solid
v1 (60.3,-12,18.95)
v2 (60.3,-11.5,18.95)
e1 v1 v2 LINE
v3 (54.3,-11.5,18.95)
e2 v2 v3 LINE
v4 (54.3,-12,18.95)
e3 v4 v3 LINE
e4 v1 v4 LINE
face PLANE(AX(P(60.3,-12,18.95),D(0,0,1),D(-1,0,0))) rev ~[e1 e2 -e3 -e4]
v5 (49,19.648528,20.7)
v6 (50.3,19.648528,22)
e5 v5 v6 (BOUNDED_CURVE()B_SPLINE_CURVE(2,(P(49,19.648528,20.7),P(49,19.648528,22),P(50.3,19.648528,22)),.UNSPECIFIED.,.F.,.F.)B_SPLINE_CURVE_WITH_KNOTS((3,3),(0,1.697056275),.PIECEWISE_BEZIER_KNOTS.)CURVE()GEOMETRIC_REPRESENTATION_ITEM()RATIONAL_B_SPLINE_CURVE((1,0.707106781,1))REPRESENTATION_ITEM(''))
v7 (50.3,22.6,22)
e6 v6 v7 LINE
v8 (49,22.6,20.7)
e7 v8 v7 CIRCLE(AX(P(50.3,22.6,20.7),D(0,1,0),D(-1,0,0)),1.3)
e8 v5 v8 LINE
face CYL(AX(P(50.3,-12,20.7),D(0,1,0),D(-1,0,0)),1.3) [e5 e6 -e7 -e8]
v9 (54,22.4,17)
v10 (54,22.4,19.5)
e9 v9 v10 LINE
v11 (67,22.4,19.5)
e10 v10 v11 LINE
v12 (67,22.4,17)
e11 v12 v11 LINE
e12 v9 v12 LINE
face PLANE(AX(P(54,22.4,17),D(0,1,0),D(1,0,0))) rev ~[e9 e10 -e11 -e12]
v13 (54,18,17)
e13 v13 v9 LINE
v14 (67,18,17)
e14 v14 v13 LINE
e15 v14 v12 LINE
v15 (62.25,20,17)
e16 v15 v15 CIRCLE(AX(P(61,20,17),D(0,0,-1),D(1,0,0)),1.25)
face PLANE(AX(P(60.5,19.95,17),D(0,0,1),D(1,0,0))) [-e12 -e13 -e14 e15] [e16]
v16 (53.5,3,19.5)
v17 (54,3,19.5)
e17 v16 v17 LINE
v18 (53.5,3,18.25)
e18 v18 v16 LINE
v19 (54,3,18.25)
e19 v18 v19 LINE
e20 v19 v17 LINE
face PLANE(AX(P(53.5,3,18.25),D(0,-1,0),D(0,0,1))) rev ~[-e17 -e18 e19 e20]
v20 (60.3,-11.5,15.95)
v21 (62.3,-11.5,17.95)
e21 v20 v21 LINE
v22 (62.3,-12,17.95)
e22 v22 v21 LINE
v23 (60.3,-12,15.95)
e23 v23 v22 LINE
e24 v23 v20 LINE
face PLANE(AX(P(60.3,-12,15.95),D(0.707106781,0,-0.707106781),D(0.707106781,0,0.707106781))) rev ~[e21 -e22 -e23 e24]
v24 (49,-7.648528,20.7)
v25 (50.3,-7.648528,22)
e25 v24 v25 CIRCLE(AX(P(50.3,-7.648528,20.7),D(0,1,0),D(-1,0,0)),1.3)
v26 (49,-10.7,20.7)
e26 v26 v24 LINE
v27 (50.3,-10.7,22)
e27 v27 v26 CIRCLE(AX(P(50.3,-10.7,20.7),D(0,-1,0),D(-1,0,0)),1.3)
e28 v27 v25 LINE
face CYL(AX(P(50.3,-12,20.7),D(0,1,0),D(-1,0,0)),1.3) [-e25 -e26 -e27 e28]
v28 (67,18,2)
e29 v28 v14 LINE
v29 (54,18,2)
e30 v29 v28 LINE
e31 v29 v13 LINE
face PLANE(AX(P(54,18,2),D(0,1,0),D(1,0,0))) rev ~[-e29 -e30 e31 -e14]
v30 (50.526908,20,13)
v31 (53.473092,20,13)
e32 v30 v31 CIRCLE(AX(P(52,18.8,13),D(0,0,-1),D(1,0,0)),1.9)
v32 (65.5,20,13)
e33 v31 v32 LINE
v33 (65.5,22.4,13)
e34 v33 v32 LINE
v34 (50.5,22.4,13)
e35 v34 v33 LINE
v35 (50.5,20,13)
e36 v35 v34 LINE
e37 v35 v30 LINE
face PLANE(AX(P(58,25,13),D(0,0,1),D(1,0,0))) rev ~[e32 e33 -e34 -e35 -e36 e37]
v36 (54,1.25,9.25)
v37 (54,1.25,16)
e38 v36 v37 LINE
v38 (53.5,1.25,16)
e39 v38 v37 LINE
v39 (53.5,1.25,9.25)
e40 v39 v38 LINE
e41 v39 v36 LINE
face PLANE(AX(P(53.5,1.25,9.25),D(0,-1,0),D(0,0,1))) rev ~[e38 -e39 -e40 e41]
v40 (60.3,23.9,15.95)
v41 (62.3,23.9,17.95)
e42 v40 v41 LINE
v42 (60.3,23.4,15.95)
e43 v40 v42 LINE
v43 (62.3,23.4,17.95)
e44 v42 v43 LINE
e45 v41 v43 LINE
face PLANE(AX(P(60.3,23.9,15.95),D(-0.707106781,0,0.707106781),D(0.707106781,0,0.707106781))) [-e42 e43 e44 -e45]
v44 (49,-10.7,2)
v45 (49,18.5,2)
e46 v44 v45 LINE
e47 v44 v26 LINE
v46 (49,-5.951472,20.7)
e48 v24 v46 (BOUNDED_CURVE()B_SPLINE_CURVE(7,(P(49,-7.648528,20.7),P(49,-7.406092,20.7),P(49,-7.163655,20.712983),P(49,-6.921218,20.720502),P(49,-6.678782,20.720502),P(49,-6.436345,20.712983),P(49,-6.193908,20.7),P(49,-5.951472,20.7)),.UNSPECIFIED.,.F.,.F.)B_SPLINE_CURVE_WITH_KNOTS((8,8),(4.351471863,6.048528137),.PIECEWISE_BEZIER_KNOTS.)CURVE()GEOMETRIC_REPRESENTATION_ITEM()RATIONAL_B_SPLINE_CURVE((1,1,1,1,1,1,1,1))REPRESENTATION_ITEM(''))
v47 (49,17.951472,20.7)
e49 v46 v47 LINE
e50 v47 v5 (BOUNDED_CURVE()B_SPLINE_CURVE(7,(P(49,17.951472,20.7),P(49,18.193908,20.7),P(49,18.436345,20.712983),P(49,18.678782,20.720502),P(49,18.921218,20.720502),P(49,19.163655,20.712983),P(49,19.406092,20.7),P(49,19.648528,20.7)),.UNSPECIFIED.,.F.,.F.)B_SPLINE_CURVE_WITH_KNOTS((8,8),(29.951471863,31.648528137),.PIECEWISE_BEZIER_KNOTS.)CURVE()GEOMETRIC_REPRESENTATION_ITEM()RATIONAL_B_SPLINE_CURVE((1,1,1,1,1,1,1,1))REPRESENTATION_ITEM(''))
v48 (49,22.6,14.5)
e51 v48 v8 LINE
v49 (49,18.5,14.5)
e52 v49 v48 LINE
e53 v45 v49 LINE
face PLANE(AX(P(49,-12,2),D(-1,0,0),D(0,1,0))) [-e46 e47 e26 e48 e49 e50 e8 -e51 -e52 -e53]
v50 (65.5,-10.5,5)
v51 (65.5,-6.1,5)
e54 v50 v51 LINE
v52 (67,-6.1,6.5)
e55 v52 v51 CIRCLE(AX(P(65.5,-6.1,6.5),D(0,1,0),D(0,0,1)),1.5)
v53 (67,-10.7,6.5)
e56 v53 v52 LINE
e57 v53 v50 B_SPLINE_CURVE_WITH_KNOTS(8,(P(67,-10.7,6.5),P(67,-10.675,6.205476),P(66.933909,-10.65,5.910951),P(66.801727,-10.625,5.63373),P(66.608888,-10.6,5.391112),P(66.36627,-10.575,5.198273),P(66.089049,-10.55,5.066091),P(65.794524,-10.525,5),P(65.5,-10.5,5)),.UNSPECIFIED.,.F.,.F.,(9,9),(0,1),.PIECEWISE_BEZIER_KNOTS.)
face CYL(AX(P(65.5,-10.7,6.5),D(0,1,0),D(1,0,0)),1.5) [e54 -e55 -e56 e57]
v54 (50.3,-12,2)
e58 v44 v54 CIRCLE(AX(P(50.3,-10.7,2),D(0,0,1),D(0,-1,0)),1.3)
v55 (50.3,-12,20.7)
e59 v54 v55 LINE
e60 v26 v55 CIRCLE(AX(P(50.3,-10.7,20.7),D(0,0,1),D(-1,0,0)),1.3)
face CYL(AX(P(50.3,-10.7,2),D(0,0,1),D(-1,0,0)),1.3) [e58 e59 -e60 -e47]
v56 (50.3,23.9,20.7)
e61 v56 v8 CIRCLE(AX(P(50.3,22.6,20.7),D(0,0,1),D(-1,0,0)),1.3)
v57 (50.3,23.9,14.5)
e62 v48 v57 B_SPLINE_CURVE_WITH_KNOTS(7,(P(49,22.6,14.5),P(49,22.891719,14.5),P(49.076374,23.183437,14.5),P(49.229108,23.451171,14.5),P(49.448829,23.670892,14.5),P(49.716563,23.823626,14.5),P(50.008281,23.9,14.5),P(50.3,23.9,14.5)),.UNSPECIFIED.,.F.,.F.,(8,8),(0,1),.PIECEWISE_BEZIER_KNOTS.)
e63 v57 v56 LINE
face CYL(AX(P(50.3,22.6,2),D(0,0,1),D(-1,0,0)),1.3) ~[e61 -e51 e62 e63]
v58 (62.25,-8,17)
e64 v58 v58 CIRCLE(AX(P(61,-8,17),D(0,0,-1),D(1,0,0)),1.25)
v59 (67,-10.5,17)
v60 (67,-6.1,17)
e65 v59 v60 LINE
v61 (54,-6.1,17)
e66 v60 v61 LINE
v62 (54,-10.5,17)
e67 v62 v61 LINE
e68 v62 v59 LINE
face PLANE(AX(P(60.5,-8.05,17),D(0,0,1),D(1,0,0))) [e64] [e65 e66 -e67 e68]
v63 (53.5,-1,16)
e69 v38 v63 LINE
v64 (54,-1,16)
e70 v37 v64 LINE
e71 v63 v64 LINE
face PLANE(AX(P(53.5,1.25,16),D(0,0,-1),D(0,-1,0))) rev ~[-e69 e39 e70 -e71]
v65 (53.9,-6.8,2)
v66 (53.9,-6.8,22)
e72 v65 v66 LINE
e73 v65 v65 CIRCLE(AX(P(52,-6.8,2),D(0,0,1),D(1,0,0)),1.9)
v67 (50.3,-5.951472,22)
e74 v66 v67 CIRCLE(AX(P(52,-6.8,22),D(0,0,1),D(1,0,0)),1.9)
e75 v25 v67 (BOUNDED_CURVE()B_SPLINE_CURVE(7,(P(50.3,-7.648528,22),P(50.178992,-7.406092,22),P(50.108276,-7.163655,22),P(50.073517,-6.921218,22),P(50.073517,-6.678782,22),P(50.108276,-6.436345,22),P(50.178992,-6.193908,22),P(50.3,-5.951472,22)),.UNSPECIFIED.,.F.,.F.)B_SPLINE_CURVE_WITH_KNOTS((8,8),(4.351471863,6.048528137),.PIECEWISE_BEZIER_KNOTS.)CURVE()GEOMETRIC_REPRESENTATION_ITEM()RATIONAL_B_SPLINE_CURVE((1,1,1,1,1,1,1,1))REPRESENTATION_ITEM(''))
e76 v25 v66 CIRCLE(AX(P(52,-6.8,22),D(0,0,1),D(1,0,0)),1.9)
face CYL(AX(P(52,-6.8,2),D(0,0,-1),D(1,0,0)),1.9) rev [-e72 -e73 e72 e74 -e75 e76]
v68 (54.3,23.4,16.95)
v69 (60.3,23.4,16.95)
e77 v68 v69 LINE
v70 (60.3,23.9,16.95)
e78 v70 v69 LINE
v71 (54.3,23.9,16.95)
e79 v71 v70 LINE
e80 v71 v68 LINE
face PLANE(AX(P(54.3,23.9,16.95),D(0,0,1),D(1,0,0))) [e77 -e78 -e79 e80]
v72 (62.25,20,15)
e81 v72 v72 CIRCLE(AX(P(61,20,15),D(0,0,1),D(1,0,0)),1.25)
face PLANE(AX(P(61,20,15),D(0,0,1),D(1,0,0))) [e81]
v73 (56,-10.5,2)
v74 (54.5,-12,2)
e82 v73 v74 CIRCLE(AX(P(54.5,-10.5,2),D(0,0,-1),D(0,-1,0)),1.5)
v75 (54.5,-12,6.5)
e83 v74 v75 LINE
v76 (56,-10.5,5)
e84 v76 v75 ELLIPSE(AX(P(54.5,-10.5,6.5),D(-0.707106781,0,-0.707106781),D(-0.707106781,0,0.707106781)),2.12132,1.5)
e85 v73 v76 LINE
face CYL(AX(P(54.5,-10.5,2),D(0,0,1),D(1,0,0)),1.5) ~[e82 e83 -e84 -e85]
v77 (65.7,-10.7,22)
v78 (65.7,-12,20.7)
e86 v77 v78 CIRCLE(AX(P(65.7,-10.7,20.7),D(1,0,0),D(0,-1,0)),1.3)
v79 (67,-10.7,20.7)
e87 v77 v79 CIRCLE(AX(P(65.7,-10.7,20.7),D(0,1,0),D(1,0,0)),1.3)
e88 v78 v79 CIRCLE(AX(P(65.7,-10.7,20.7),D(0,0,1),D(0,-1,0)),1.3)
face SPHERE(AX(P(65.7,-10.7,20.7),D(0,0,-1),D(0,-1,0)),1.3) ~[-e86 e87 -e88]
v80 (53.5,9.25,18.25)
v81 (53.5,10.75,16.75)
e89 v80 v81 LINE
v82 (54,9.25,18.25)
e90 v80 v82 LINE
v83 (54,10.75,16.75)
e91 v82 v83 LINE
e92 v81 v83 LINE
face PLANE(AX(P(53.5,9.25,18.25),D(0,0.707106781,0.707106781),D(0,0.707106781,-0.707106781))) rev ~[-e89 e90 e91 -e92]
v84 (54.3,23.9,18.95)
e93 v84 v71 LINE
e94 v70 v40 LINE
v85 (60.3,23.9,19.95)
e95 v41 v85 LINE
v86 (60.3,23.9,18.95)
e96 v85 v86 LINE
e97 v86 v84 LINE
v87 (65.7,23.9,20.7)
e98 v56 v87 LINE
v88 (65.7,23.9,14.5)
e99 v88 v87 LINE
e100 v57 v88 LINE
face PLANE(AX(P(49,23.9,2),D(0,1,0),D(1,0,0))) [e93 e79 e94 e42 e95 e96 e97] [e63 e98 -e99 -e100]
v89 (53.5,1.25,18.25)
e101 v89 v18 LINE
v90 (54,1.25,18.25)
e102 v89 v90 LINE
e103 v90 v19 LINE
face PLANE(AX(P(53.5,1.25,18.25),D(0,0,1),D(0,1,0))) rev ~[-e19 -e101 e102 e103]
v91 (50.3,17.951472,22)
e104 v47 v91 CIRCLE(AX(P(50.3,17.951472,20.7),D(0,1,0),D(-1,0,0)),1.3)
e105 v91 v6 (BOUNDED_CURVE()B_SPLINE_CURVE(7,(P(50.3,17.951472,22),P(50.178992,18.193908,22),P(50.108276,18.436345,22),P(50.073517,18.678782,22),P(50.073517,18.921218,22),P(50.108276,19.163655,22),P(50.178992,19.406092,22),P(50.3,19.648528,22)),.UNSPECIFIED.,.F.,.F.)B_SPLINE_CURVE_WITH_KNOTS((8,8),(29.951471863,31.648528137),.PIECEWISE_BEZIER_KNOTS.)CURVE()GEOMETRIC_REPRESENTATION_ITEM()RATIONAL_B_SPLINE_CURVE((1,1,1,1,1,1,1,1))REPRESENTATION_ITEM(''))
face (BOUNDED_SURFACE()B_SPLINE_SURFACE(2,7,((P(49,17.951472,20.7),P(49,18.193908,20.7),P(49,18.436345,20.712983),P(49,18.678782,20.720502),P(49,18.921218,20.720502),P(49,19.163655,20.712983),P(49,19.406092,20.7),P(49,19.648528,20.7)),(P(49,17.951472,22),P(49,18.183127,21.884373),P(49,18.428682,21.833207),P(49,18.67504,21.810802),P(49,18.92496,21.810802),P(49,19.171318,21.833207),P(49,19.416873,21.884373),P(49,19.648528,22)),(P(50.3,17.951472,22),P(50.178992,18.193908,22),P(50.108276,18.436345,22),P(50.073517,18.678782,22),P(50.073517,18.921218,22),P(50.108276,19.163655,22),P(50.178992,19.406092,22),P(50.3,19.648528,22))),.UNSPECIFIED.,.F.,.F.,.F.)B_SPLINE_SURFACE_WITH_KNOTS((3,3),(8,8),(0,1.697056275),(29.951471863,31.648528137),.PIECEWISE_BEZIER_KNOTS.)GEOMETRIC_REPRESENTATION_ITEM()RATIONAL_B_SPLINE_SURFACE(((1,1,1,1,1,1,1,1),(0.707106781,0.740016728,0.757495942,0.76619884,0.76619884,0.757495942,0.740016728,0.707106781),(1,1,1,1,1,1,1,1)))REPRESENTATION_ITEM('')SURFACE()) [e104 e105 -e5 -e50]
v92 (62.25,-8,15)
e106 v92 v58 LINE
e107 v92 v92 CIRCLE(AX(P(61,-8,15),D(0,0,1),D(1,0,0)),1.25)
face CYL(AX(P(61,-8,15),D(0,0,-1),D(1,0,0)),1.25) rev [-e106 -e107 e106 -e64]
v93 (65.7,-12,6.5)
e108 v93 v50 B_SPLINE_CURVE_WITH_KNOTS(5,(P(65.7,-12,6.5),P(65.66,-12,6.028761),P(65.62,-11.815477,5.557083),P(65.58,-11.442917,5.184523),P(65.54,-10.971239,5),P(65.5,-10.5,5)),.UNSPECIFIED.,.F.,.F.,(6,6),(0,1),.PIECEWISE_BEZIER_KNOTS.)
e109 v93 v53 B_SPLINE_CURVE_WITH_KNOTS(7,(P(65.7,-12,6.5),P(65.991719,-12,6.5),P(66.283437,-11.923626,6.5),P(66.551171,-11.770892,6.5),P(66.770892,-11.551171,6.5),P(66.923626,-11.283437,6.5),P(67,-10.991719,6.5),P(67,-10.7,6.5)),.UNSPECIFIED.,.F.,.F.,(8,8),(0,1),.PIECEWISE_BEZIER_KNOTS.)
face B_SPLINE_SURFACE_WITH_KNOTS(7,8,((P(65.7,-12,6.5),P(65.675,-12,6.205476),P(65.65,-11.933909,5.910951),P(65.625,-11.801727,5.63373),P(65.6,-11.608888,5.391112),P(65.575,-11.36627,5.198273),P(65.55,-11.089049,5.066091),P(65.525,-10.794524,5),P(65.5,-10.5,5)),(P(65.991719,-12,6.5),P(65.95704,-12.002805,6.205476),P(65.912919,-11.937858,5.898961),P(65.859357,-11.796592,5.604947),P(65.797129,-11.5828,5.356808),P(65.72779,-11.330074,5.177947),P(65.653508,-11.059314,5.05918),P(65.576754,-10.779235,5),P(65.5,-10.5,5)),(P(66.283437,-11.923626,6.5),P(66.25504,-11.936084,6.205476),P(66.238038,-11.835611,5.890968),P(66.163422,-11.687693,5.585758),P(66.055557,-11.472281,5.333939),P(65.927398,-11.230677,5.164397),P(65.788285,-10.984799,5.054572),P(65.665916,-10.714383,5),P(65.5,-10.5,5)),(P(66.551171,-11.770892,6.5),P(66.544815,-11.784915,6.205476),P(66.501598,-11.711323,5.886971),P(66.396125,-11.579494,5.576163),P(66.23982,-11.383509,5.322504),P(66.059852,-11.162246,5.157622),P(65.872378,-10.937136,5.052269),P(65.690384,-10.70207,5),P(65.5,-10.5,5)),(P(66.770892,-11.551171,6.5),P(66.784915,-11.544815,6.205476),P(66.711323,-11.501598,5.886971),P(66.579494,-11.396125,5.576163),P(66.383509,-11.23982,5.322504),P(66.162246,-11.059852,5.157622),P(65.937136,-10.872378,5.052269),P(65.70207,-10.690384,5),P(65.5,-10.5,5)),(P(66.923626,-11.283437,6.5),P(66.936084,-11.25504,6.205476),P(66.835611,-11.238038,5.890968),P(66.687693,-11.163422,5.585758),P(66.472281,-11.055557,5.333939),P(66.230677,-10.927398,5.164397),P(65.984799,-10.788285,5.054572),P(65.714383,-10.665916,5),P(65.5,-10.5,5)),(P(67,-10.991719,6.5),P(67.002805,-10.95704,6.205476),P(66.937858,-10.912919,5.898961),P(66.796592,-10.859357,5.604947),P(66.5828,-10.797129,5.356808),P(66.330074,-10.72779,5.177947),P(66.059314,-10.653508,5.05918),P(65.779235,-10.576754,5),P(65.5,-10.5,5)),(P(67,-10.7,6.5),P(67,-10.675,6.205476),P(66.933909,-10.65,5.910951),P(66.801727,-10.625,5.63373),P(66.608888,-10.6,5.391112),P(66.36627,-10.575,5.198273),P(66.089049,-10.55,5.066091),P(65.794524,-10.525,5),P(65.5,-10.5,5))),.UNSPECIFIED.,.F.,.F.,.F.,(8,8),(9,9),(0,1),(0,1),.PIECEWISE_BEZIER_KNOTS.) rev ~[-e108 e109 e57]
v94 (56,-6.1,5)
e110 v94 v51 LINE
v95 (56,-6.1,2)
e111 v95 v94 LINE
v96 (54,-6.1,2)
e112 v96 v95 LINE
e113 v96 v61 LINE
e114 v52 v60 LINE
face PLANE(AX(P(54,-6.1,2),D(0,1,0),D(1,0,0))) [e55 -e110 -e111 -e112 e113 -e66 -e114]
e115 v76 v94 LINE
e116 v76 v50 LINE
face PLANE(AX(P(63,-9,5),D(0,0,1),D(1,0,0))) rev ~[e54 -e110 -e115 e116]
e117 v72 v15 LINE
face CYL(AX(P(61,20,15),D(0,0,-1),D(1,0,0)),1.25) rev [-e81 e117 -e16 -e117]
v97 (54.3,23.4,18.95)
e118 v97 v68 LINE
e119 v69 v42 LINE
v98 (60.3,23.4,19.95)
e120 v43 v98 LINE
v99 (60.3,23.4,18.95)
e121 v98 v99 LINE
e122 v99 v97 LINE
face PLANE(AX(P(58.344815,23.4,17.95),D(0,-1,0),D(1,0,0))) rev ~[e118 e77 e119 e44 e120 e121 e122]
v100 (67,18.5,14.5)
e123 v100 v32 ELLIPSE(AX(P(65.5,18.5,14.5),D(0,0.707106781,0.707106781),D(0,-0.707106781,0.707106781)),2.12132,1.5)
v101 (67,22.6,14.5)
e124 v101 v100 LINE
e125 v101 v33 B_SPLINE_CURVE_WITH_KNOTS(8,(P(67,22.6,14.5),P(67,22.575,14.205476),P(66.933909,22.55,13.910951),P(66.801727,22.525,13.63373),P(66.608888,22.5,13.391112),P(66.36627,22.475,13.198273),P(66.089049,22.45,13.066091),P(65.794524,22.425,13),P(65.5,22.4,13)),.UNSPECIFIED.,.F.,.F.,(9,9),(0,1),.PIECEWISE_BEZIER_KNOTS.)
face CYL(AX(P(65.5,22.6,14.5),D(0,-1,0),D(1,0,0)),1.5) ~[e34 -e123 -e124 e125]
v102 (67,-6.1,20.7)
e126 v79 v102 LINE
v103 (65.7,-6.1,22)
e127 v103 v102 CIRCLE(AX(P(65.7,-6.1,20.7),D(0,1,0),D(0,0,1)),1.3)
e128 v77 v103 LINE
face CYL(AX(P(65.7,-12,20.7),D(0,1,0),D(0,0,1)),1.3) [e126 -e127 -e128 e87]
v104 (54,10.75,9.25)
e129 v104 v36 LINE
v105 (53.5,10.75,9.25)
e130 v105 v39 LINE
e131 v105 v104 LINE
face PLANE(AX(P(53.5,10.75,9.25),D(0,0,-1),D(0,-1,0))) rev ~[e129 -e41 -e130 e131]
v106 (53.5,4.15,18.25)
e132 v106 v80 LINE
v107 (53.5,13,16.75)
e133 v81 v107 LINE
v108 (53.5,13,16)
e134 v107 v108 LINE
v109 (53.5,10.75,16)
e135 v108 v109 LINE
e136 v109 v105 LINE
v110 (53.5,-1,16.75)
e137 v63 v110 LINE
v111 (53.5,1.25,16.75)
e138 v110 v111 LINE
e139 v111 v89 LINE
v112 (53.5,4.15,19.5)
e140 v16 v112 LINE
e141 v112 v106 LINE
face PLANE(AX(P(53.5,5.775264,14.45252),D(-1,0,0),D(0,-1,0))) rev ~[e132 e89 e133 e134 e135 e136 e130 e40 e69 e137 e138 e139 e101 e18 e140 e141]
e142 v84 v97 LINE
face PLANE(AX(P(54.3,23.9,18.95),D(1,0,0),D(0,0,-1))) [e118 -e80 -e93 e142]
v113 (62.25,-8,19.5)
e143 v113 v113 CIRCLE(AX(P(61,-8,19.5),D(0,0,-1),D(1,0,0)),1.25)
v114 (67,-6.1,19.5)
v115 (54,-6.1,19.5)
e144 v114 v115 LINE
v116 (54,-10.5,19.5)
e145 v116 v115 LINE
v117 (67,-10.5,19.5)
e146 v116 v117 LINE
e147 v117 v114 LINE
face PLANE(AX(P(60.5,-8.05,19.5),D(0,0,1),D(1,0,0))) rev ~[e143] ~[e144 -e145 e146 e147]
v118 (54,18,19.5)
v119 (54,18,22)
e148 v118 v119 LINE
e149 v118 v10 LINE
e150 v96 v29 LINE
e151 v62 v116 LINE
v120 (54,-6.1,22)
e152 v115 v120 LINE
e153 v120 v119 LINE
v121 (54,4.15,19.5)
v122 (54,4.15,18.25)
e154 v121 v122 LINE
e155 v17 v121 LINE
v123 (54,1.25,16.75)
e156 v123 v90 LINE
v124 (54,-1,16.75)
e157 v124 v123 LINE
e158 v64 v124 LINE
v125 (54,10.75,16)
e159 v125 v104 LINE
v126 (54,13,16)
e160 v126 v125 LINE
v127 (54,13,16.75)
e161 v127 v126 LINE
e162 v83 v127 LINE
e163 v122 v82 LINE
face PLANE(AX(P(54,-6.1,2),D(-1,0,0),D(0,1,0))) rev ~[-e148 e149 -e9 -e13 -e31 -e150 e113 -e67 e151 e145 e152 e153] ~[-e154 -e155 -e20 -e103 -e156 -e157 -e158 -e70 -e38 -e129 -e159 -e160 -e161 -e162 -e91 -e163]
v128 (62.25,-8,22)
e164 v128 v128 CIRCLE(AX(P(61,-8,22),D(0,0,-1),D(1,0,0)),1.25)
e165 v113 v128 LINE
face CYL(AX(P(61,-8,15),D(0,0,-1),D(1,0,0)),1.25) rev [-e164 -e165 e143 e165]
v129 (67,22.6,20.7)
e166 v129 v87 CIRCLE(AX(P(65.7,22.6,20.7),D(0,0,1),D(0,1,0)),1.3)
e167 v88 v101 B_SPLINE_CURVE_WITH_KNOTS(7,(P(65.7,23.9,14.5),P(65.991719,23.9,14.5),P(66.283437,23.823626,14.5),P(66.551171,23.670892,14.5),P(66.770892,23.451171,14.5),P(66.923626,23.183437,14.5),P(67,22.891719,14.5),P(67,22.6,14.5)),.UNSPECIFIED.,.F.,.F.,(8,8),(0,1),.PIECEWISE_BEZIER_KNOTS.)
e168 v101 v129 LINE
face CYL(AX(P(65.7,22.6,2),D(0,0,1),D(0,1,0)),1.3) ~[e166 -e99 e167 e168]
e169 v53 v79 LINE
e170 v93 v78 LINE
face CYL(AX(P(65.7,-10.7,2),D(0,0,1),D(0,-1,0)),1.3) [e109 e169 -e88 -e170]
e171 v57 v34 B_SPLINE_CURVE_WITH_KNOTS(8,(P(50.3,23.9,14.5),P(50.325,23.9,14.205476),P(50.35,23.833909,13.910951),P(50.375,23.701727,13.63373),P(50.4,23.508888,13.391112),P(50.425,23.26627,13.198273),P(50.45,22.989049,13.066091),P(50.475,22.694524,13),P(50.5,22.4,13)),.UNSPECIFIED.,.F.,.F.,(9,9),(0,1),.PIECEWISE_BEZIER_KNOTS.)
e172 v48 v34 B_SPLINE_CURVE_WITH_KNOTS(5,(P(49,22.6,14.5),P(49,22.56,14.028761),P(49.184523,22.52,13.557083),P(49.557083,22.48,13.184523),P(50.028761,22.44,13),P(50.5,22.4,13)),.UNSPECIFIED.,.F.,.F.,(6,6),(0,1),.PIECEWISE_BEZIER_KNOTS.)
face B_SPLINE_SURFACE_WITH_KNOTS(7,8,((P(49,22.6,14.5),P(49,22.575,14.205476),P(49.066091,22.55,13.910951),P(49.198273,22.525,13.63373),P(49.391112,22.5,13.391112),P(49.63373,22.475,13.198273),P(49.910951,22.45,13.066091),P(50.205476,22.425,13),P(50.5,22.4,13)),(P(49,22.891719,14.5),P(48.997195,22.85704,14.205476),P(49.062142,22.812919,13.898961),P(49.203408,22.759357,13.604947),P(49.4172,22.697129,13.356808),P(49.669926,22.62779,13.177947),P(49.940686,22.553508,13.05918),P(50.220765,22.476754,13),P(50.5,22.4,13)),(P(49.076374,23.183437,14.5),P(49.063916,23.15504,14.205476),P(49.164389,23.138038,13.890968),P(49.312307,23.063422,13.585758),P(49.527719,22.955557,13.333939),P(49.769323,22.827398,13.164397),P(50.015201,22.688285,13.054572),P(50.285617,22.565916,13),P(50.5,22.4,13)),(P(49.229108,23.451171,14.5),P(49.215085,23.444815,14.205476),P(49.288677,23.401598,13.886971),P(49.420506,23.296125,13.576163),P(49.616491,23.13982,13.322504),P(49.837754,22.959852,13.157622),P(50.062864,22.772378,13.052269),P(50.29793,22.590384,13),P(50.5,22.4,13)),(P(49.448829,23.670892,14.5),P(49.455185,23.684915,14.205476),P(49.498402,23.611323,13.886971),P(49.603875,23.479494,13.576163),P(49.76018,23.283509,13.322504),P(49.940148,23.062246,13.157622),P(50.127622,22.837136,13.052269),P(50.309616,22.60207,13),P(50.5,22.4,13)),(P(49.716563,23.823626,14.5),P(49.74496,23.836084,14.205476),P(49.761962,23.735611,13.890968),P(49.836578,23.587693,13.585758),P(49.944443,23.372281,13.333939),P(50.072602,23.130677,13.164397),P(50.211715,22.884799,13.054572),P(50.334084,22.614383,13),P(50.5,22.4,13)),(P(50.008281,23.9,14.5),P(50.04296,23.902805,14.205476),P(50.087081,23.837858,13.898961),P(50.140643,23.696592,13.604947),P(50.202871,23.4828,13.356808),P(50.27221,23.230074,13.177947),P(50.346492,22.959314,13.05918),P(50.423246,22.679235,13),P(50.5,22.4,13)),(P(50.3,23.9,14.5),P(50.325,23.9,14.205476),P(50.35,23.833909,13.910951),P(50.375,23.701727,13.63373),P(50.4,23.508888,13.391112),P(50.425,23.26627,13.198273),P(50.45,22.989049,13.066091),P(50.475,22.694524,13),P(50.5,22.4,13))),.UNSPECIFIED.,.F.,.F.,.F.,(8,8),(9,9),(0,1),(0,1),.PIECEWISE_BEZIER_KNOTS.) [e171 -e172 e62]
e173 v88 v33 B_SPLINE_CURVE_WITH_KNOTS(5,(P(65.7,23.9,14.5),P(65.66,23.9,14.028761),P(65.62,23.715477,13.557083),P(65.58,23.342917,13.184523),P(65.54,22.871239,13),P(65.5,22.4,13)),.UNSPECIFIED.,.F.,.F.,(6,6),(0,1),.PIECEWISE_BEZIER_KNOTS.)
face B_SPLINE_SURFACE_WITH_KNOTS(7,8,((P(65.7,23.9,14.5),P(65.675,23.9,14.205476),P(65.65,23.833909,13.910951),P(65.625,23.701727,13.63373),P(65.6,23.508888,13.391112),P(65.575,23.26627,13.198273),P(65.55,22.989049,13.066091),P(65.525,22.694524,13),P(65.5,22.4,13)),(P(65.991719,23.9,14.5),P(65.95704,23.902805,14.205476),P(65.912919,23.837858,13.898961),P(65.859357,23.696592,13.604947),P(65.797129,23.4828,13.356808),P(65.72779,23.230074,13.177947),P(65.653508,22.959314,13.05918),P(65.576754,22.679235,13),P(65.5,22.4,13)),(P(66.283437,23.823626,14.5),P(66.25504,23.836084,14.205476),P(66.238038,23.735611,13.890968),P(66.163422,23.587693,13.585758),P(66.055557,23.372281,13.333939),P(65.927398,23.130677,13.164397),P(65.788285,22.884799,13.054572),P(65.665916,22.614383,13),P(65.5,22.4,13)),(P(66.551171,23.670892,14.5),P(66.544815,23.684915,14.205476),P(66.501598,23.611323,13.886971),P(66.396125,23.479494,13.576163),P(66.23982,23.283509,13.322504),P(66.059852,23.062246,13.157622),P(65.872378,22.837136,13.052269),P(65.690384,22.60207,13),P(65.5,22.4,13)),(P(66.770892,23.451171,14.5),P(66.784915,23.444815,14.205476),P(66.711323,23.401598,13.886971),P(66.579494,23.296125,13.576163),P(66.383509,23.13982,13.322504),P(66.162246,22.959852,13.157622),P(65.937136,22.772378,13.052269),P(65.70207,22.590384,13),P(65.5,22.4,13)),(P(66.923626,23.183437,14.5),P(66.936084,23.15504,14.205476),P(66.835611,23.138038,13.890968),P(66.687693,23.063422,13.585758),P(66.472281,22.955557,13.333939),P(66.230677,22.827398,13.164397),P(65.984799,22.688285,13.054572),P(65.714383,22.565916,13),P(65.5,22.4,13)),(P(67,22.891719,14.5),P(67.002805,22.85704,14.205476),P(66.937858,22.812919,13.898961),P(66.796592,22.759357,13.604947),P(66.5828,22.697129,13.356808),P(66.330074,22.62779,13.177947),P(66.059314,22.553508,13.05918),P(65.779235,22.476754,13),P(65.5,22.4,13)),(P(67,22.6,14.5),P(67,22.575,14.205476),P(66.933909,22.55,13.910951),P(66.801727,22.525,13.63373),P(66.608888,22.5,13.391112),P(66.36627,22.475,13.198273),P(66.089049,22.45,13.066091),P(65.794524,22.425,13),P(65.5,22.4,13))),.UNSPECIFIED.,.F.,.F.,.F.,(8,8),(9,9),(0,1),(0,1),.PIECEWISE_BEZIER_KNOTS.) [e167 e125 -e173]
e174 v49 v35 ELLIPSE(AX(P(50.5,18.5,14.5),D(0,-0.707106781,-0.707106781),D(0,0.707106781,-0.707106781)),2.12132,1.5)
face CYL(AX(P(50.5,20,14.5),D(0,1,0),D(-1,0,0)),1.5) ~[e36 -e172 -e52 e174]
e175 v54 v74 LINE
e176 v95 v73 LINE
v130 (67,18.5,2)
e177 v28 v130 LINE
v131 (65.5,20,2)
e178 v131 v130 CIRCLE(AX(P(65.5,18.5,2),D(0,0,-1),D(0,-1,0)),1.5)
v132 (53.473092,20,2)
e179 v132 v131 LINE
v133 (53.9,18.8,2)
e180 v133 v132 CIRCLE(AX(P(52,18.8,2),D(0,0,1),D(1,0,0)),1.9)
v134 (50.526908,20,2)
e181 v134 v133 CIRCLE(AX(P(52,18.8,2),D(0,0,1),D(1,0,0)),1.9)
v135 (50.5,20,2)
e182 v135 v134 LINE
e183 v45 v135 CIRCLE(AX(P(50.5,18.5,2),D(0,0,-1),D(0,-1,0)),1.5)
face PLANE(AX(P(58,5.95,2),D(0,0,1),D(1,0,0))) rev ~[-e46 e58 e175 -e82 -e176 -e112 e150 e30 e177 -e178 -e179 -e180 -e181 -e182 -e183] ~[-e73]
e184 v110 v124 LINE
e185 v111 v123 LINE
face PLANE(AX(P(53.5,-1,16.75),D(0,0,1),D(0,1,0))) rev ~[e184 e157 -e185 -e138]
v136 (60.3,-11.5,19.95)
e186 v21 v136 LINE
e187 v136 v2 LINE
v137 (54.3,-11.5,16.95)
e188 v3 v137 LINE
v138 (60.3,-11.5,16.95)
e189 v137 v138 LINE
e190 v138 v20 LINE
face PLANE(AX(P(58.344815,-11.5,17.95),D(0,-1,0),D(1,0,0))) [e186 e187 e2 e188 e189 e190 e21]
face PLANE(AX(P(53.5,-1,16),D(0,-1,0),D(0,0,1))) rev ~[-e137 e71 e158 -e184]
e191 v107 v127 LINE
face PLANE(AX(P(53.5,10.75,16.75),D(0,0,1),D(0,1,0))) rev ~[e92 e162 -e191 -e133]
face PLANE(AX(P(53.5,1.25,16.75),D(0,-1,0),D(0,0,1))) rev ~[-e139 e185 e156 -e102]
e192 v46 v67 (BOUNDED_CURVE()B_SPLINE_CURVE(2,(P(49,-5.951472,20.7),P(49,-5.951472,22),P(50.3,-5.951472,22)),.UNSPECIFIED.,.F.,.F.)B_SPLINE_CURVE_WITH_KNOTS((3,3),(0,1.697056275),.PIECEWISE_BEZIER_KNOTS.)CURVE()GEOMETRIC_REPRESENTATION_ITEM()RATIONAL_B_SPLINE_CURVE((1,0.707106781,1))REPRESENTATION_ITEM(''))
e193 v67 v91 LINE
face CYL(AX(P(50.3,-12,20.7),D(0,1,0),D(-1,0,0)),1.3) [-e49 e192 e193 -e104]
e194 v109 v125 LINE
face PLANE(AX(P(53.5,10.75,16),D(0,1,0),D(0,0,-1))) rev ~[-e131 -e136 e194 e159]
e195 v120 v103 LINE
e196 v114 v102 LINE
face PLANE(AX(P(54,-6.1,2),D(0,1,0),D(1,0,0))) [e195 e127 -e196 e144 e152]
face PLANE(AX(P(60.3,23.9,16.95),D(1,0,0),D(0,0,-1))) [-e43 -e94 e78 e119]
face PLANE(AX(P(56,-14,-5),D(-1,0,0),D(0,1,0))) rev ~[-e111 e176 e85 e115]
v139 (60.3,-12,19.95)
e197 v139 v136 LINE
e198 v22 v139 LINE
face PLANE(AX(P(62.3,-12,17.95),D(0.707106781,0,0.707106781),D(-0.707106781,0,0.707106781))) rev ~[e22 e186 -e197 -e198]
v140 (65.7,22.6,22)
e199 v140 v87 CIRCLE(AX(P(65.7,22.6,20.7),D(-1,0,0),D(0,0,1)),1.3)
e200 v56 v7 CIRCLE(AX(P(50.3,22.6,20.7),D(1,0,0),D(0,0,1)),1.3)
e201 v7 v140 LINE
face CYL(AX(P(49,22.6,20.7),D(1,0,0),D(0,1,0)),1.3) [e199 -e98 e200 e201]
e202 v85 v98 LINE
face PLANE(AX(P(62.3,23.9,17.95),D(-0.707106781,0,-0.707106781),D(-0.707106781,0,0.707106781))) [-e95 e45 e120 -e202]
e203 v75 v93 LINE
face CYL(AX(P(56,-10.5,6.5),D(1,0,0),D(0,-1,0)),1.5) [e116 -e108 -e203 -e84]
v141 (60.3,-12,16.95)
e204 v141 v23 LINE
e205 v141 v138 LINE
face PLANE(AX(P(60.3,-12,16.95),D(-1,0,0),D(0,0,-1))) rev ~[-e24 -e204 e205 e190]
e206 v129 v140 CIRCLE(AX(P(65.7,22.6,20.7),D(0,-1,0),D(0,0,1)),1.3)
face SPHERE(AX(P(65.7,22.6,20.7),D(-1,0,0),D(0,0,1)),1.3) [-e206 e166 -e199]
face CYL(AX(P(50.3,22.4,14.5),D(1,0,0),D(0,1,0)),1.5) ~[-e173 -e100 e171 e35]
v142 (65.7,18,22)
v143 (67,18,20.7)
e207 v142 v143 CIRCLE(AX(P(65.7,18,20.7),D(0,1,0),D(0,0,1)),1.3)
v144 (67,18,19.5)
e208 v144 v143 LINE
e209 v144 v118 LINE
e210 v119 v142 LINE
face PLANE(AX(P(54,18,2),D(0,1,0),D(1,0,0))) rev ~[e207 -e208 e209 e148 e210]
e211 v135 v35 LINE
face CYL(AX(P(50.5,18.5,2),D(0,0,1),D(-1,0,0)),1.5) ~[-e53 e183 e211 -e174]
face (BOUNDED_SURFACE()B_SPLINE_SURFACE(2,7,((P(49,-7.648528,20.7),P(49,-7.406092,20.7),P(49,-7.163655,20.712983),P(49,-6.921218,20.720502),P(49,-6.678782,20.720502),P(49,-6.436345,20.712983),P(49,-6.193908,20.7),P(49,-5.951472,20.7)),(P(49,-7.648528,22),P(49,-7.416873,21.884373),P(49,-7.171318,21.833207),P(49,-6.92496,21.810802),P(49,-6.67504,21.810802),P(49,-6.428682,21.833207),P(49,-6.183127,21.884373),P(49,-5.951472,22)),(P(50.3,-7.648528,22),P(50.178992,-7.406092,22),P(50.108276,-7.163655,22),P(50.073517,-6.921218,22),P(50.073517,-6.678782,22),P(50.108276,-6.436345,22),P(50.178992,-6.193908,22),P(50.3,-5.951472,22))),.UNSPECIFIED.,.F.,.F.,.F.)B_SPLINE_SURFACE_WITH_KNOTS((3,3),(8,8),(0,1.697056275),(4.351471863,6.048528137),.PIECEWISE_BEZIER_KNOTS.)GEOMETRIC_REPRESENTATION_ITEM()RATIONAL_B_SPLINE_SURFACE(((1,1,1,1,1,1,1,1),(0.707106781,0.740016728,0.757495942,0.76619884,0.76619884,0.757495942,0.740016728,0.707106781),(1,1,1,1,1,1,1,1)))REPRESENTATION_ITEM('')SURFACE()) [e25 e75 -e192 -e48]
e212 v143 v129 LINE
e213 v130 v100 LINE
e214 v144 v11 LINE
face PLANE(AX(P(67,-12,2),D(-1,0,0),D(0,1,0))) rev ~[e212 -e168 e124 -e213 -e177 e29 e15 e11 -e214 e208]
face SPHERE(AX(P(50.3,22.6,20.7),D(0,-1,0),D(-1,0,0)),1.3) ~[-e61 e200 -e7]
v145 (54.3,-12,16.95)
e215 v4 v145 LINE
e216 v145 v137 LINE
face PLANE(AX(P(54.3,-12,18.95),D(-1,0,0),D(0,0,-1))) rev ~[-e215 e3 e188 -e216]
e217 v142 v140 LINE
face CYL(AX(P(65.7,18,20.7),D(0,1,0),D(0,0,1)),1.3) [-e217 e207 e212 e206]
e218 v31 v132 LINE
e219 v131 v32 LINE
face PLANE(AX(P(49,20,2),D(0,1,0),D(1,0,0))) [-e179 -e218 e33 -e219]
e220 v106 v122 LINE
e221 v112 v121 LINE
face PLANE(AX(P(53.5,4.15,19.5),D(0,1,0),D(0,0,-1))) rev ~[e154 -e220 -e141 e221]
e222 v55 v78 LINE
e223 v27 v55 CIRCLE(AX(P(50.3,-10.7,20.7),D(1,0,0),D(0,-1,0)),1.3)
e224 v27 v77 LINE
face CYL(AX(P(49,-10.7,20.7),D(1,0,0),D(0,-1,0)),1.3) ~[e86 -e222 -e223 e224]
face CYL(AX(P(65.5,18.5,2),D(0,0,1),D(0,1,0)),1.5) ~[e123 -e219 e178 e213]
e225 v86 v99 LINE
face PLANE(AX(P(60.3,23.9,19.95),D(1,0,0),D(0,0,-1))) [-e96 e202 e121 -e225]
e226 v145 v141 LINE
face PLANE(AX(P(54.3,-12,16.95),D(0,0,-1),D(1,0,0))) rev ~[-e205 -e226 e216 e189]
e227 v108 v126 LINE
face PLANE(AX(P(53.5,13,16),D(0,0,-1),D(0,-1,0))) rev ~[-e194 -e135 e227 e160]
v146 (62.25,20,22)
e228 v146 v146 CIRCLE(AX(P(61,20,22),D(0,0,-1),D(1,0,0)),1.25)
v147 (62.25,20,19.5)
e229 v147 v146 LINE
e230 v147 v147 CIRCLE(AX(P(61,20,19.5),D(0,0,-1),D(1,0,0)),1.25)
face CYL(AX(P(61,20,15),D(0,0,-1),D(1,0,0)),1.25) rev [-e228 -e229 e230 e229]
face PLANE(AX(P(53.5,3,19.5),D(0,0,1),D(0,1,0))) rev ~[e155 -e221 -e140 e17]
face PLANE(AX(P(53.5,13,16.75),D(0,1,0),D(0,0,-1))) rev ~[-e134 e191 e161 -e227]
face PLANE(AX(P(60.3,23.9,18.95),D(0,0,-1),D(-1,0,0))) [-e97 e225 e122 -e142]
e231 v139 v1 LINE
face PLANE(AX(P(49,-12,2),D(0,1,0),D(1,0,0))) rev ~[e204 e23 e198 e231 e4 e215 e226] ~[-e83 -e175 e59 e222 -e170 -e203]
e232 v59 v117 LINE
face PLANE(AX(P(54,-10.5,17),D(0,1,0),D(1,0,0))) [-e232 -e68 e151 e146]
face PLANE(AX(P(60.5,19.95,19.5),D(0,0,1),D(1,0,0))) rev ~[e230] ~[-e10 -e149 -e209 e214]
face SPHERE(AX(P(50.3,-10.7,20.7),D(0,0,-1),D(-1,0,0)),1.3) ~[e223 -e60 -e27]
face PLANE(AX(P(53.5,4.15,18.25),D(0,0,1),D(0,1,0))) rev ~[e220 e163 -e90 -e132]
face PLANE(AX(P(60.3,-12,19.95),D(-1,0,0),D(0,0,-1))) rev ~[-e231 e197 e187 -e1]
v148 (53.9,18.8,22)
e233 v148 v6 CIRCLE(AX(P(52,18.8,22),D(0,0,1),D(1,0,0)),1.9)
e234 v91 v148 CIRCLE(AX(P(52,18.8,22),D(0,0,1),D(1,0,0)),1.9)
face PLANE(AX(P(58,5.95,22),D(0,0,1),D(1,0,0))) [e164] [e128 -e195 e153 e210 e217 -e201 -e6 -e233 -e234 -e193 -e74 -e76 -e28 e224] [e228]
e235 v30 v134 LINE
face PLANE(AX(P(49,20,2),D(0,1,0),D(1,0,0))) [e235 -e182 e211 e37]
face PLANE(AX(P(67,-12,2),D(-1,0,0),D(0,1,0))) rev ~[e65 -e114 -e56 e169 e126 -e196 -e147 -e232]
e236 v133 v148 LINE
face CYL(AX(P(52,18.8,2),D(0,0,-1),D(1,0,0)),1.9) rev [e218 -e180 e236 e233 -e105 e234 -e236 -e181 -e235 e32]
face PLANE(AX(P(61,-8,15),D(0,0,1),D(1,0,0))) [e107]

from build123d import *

# Parameters (mm, degrees)
PAD015_DEPTH      = 0.5
BOX039_W          = 18
BOX039_H          = 10
BOX039_DEPTH      = 11
BOX038_W          = 14
BOX038_H          = 10
BOX038_DEPTH      = 10
CYLINDER036_R     = 1.25
CYLINDER036_DEPTH = 8
CYLINDER037_R     = 1.25
CYLINDER037_DEPTH = 8
CYLINDER014_R     = 1.9
CYLINDER014_DEPTH = 20
CYLINDER015_R     = 1.9
CYLINDER015_DEPTH = 20
BOX015_W          = 13
BOX015_H          = 4.9
BOX015_DEPTH      = 2.5
BOX035_W          = 13
BOX035_H          = 24.1
BOX035_DEPTH      = 20
BOX014_W          = 13
BOX014_H          = 4.9
BOX014_DEPTH      = 2.5
BOX016_W          = 18
BOX016_H          = 35.9
BOX016_DEPTH      = 20
FILLET008_R       = 1.3
FILLET010_R       = 1.5
POCKET020_DEPTH   = 0.5
POCKET021_DEPTH   = 0.5


with BuildPart() as pad015:
    # Sketch046 → Pad015 (new body)
    with BuildSketch(Plane(origin=(53.5, 6, 2.5), x_dir=(0, 1, 0), z_dir=(1, 0, 0))):
        Polygon((4.75, 6.75), (-4.75, 6.75), (-4.75, 13.5), (-7, 13.5), (-7, 14.25), (-4.75, 14.25), (-4.75, 15.75), (-3, 15.75), (-3, 17), (-1.85, 17), (-1.85, 15.75), (3.25, 15.75), (4.75, 14.25), (7, 14.25), (7, 13.5), (4.75, 13.5), align=None)
    extrude(amount=PAD015_DEPTH)


with BuildPart() as hueco_conector_miniservo:
    # Box039 → Box039 (new body)
    with BuildSketch(Plane(origin=(49, 20, 3), x_dir=(1, 0, 0), z_dir=(0, 0, 1))):
        with Locations((9, 5)):
            Rectangle(BOX039_W, BOX039_H)
    extrude(amount=BOX039_DEPTH)


with BuildPart() as hueco_cables_miniservo:
    # Box038 → Box038 (new body)
    with BuildSketch(Plane(origin=(57, -14, -4), x_dir=(1, 0, 0), z_dir=(0, 0, 1))):
        with Locations((7, 5)):
            Rectangle(BOX038_W, BOX038_H)
    extrude(amount=BOX038_DEPTH)


with BuildPart() as cylinder036:
    # Cylinder036 → Cylinder036 (new body)
    with BuildSketch(Plane(origin=(57, -106, 14), x_dir=(1, 0, 0), z_dir=(0, 0, 1))):
        Circle(CYLINDER036_R)
    extrude(amount=CYLINDER036_DEPTH)


with BuildPart() as fusion036:
    # Cylinder037 → Cylinder037 (new body)
    with BuildSketch(Plane(origin=(57, -134, 14), x_dir=(1, 0, 0), z_dir=(0, 0, 1))):
        Circle(CYLINDER037_R)
    extrude(amount=CYLINDER037_DEPTH)

    # Fusion036: union Cylinder036
    add(cylinder036.part)


with BuildPart() as cylinder014:
    # Cylinder014 → Cylinder014 (new body)
    with BuildSketch(Plane(origin=(48, -132.8, 1), x_dir=(1, 0, 0), z_dir=(0, 0, 1))):
        Circle(CYLINDER014_R)
    extrude(amount=CYLINDER014_DEPTH)


with BuildPart() as fusion035:
    # Cylinder015 → Cylinder015 (new body)
    with BuildSketch(Plane(origin=(48, -107.2, 1), x_dir=(1, 0, 0), z_dir=(0, 0, 1))):
        Circle(CYLINDER015_R)
    extrude(amount=CYLINDER015_DEPTH)

    # Fusion035: union Cylinder014
    add(cylinder014.part)


with BuildPart() as box015:
    # Box015 → Box015 (new body)
    with BuildSketch(Plane(origin=(50, -108.5, 16), x_dir=(1, 0, 0), z_dir=(0, 0, 1))):
        with Locations((6.5, 2.45)):
            Rectangle(BOX015_W, BOX015_H)
    extrude(amount=BOX015_DEPTH)


with BuildPart() as hueco_miniservo:
    # Box035 → Box035 (new body)
    with BuildSketch(Plane(origin=(50, -132.1, 1), x_dir=(1, 0, 0), z_dir=(0, 0, 1))):
        with Locations((6.5, 12.05)):
            Rectangle(BOX035_W, BOX035_H)
    extrude(amount=BOX035_DEPTH)


with BuildPart() as fusion034:
    # Box014 → Box014 (new body)
    with BuildSketch(Plane(origin=(50, -136.5, 16), x_dir=(1, 0, 0), z_dir=(0, 0, 1))):
        with Locations((6.5, 2.45)):
            Rectangle(BOX014_W, BOX014_H)
    extrude(amount=BOX014_DEPTH)

    # Fusion034: union Box015, Hueco_Miniservo
    add(box015.part)
    add(hueco_miniservo.part)


with BuildPart() as sujeta_miniservo_final:
    # Box016 → Box016 (new body)
    with BuildSketch(Plane(origin=(45, -138, 1), x_dir=(1, 0, 0), z_dir=(0, 0, 1))):
        with Locations((9, 17.95)):
            Rectangle(BOX016_W, BOX016_H)
    extrude(amount=BOX016_DEPTH)

    # Cut012: cut Fusion034
    add(fusion034.part, mode=Mode.SUBTRACT)

    # Cut013: cut Fusion035
    add(fusion035.part, mode=Mode.SUBTRACT)

    # Cut016: cut Fusion036
    add(fusion036.part, mode=Mode.SUBTRACT)

    # Fillet008
    fillet008_edges = [sujeta_miniservo_final.edges().sort_by_distance(p)[0] for p in [
        (45, -138, 11),
        (45, -120.05, 21),
        (45, -102.1, 11),
        (63, -138, 11),
        (54, -138, 21),
        (54, -102.1, 21),
        (63, -105.05, 21),
        (63, -135.05, 21),
        (63, -102.1, 11),
    ]]
    fillet(fillet008_edges, radius=FILLET008_R)


with BuildPart() as sujeta_miniservo_final_1:
    # Fillet008 placement: moved
    add(sujeta_miniservo_final.part.moved(Location((5, 126, 2))))

    # Cut017: cut Hueco_Cables_Miniservo
    add(hueco_cables_miniservo.part, mode=Mode.SUBTRACT)


with BuildPart() as sujeta_miniservo_final_2:
    # Cut017 placement: moved
    add(sujeta_miniservo_final_1.part.moved(Location((-1, 0, 0))))

    # Cut019: cut Hueco_Conector_Miniservo
    add(hueco_conector_miniservo.part, mode=Mode.SUBTRACT)

    # Fillet010
    fillet010_edges = [sujeta_miniservo_final_2.edges().sort_by_distance(p)[0] for p in [
        (49, 21.3, 14),
        (49, 20, 8.5),
        (49.380761, 23.519239, 14),
        (58, 23.9, 14),
        (66.619239, 23.519239, 14),
        (67, 21.3, 14),
        (56, -12, 4.5),
        (60.85, -12, 6),
        (67, 20, 8.5),
        (67, -8.4, 6),
        (66.619239, -11.619239, 6),
    ]]
    fillet(fillet010_edges, radius=FILLET010_R)


with BuildPart() as sujeta_miniservo_final_3:
    # Fillet010 placement: moved
    add(sujeta_miniservo_final_2.part.moved(Location((0, 0, -1))))

    # Sketch044 → Pocket020 (cut)
    with BuildSketch(Plane(origin=(0, -12, -1), x_dir=(1, 0, 0), z_dir=(0, -1, 0))):
        Polygon((54.3, 19.95), (54.3, 17.95), (60.3, 17.95), (60.3, 16.95), (62.3, 18.95), (60.3, 20.95), (60.3, 19.95), align=None)
    extrude(amount=-POCKET020_DEPTH, mode=Mode.SUBTRACT)

    # Sketch045 → Pocket021 (cut)
    with BuildSketch(Plane(origin=(0, 23.9, -1), x_dir=(-1, 0, 0), z_dir=(0, 1, 0))):
        Polygon((-60.3, 19.95), (-54.3, 19.95), (-54.3, 17.95), (-60.3, 17.95), (-60.3, 16.95), (-62.3, 18.95), (-60.3, 20.95), align=None)
    extrude(amount=-POCKET021_DEPTH, mode=Mode.SUBTRACT)

    # Cut056: cut Pad015
    add(pad015.part, mode=Mode.SUBTRACT)


solid = sujeta_miniservo_final_3.part
